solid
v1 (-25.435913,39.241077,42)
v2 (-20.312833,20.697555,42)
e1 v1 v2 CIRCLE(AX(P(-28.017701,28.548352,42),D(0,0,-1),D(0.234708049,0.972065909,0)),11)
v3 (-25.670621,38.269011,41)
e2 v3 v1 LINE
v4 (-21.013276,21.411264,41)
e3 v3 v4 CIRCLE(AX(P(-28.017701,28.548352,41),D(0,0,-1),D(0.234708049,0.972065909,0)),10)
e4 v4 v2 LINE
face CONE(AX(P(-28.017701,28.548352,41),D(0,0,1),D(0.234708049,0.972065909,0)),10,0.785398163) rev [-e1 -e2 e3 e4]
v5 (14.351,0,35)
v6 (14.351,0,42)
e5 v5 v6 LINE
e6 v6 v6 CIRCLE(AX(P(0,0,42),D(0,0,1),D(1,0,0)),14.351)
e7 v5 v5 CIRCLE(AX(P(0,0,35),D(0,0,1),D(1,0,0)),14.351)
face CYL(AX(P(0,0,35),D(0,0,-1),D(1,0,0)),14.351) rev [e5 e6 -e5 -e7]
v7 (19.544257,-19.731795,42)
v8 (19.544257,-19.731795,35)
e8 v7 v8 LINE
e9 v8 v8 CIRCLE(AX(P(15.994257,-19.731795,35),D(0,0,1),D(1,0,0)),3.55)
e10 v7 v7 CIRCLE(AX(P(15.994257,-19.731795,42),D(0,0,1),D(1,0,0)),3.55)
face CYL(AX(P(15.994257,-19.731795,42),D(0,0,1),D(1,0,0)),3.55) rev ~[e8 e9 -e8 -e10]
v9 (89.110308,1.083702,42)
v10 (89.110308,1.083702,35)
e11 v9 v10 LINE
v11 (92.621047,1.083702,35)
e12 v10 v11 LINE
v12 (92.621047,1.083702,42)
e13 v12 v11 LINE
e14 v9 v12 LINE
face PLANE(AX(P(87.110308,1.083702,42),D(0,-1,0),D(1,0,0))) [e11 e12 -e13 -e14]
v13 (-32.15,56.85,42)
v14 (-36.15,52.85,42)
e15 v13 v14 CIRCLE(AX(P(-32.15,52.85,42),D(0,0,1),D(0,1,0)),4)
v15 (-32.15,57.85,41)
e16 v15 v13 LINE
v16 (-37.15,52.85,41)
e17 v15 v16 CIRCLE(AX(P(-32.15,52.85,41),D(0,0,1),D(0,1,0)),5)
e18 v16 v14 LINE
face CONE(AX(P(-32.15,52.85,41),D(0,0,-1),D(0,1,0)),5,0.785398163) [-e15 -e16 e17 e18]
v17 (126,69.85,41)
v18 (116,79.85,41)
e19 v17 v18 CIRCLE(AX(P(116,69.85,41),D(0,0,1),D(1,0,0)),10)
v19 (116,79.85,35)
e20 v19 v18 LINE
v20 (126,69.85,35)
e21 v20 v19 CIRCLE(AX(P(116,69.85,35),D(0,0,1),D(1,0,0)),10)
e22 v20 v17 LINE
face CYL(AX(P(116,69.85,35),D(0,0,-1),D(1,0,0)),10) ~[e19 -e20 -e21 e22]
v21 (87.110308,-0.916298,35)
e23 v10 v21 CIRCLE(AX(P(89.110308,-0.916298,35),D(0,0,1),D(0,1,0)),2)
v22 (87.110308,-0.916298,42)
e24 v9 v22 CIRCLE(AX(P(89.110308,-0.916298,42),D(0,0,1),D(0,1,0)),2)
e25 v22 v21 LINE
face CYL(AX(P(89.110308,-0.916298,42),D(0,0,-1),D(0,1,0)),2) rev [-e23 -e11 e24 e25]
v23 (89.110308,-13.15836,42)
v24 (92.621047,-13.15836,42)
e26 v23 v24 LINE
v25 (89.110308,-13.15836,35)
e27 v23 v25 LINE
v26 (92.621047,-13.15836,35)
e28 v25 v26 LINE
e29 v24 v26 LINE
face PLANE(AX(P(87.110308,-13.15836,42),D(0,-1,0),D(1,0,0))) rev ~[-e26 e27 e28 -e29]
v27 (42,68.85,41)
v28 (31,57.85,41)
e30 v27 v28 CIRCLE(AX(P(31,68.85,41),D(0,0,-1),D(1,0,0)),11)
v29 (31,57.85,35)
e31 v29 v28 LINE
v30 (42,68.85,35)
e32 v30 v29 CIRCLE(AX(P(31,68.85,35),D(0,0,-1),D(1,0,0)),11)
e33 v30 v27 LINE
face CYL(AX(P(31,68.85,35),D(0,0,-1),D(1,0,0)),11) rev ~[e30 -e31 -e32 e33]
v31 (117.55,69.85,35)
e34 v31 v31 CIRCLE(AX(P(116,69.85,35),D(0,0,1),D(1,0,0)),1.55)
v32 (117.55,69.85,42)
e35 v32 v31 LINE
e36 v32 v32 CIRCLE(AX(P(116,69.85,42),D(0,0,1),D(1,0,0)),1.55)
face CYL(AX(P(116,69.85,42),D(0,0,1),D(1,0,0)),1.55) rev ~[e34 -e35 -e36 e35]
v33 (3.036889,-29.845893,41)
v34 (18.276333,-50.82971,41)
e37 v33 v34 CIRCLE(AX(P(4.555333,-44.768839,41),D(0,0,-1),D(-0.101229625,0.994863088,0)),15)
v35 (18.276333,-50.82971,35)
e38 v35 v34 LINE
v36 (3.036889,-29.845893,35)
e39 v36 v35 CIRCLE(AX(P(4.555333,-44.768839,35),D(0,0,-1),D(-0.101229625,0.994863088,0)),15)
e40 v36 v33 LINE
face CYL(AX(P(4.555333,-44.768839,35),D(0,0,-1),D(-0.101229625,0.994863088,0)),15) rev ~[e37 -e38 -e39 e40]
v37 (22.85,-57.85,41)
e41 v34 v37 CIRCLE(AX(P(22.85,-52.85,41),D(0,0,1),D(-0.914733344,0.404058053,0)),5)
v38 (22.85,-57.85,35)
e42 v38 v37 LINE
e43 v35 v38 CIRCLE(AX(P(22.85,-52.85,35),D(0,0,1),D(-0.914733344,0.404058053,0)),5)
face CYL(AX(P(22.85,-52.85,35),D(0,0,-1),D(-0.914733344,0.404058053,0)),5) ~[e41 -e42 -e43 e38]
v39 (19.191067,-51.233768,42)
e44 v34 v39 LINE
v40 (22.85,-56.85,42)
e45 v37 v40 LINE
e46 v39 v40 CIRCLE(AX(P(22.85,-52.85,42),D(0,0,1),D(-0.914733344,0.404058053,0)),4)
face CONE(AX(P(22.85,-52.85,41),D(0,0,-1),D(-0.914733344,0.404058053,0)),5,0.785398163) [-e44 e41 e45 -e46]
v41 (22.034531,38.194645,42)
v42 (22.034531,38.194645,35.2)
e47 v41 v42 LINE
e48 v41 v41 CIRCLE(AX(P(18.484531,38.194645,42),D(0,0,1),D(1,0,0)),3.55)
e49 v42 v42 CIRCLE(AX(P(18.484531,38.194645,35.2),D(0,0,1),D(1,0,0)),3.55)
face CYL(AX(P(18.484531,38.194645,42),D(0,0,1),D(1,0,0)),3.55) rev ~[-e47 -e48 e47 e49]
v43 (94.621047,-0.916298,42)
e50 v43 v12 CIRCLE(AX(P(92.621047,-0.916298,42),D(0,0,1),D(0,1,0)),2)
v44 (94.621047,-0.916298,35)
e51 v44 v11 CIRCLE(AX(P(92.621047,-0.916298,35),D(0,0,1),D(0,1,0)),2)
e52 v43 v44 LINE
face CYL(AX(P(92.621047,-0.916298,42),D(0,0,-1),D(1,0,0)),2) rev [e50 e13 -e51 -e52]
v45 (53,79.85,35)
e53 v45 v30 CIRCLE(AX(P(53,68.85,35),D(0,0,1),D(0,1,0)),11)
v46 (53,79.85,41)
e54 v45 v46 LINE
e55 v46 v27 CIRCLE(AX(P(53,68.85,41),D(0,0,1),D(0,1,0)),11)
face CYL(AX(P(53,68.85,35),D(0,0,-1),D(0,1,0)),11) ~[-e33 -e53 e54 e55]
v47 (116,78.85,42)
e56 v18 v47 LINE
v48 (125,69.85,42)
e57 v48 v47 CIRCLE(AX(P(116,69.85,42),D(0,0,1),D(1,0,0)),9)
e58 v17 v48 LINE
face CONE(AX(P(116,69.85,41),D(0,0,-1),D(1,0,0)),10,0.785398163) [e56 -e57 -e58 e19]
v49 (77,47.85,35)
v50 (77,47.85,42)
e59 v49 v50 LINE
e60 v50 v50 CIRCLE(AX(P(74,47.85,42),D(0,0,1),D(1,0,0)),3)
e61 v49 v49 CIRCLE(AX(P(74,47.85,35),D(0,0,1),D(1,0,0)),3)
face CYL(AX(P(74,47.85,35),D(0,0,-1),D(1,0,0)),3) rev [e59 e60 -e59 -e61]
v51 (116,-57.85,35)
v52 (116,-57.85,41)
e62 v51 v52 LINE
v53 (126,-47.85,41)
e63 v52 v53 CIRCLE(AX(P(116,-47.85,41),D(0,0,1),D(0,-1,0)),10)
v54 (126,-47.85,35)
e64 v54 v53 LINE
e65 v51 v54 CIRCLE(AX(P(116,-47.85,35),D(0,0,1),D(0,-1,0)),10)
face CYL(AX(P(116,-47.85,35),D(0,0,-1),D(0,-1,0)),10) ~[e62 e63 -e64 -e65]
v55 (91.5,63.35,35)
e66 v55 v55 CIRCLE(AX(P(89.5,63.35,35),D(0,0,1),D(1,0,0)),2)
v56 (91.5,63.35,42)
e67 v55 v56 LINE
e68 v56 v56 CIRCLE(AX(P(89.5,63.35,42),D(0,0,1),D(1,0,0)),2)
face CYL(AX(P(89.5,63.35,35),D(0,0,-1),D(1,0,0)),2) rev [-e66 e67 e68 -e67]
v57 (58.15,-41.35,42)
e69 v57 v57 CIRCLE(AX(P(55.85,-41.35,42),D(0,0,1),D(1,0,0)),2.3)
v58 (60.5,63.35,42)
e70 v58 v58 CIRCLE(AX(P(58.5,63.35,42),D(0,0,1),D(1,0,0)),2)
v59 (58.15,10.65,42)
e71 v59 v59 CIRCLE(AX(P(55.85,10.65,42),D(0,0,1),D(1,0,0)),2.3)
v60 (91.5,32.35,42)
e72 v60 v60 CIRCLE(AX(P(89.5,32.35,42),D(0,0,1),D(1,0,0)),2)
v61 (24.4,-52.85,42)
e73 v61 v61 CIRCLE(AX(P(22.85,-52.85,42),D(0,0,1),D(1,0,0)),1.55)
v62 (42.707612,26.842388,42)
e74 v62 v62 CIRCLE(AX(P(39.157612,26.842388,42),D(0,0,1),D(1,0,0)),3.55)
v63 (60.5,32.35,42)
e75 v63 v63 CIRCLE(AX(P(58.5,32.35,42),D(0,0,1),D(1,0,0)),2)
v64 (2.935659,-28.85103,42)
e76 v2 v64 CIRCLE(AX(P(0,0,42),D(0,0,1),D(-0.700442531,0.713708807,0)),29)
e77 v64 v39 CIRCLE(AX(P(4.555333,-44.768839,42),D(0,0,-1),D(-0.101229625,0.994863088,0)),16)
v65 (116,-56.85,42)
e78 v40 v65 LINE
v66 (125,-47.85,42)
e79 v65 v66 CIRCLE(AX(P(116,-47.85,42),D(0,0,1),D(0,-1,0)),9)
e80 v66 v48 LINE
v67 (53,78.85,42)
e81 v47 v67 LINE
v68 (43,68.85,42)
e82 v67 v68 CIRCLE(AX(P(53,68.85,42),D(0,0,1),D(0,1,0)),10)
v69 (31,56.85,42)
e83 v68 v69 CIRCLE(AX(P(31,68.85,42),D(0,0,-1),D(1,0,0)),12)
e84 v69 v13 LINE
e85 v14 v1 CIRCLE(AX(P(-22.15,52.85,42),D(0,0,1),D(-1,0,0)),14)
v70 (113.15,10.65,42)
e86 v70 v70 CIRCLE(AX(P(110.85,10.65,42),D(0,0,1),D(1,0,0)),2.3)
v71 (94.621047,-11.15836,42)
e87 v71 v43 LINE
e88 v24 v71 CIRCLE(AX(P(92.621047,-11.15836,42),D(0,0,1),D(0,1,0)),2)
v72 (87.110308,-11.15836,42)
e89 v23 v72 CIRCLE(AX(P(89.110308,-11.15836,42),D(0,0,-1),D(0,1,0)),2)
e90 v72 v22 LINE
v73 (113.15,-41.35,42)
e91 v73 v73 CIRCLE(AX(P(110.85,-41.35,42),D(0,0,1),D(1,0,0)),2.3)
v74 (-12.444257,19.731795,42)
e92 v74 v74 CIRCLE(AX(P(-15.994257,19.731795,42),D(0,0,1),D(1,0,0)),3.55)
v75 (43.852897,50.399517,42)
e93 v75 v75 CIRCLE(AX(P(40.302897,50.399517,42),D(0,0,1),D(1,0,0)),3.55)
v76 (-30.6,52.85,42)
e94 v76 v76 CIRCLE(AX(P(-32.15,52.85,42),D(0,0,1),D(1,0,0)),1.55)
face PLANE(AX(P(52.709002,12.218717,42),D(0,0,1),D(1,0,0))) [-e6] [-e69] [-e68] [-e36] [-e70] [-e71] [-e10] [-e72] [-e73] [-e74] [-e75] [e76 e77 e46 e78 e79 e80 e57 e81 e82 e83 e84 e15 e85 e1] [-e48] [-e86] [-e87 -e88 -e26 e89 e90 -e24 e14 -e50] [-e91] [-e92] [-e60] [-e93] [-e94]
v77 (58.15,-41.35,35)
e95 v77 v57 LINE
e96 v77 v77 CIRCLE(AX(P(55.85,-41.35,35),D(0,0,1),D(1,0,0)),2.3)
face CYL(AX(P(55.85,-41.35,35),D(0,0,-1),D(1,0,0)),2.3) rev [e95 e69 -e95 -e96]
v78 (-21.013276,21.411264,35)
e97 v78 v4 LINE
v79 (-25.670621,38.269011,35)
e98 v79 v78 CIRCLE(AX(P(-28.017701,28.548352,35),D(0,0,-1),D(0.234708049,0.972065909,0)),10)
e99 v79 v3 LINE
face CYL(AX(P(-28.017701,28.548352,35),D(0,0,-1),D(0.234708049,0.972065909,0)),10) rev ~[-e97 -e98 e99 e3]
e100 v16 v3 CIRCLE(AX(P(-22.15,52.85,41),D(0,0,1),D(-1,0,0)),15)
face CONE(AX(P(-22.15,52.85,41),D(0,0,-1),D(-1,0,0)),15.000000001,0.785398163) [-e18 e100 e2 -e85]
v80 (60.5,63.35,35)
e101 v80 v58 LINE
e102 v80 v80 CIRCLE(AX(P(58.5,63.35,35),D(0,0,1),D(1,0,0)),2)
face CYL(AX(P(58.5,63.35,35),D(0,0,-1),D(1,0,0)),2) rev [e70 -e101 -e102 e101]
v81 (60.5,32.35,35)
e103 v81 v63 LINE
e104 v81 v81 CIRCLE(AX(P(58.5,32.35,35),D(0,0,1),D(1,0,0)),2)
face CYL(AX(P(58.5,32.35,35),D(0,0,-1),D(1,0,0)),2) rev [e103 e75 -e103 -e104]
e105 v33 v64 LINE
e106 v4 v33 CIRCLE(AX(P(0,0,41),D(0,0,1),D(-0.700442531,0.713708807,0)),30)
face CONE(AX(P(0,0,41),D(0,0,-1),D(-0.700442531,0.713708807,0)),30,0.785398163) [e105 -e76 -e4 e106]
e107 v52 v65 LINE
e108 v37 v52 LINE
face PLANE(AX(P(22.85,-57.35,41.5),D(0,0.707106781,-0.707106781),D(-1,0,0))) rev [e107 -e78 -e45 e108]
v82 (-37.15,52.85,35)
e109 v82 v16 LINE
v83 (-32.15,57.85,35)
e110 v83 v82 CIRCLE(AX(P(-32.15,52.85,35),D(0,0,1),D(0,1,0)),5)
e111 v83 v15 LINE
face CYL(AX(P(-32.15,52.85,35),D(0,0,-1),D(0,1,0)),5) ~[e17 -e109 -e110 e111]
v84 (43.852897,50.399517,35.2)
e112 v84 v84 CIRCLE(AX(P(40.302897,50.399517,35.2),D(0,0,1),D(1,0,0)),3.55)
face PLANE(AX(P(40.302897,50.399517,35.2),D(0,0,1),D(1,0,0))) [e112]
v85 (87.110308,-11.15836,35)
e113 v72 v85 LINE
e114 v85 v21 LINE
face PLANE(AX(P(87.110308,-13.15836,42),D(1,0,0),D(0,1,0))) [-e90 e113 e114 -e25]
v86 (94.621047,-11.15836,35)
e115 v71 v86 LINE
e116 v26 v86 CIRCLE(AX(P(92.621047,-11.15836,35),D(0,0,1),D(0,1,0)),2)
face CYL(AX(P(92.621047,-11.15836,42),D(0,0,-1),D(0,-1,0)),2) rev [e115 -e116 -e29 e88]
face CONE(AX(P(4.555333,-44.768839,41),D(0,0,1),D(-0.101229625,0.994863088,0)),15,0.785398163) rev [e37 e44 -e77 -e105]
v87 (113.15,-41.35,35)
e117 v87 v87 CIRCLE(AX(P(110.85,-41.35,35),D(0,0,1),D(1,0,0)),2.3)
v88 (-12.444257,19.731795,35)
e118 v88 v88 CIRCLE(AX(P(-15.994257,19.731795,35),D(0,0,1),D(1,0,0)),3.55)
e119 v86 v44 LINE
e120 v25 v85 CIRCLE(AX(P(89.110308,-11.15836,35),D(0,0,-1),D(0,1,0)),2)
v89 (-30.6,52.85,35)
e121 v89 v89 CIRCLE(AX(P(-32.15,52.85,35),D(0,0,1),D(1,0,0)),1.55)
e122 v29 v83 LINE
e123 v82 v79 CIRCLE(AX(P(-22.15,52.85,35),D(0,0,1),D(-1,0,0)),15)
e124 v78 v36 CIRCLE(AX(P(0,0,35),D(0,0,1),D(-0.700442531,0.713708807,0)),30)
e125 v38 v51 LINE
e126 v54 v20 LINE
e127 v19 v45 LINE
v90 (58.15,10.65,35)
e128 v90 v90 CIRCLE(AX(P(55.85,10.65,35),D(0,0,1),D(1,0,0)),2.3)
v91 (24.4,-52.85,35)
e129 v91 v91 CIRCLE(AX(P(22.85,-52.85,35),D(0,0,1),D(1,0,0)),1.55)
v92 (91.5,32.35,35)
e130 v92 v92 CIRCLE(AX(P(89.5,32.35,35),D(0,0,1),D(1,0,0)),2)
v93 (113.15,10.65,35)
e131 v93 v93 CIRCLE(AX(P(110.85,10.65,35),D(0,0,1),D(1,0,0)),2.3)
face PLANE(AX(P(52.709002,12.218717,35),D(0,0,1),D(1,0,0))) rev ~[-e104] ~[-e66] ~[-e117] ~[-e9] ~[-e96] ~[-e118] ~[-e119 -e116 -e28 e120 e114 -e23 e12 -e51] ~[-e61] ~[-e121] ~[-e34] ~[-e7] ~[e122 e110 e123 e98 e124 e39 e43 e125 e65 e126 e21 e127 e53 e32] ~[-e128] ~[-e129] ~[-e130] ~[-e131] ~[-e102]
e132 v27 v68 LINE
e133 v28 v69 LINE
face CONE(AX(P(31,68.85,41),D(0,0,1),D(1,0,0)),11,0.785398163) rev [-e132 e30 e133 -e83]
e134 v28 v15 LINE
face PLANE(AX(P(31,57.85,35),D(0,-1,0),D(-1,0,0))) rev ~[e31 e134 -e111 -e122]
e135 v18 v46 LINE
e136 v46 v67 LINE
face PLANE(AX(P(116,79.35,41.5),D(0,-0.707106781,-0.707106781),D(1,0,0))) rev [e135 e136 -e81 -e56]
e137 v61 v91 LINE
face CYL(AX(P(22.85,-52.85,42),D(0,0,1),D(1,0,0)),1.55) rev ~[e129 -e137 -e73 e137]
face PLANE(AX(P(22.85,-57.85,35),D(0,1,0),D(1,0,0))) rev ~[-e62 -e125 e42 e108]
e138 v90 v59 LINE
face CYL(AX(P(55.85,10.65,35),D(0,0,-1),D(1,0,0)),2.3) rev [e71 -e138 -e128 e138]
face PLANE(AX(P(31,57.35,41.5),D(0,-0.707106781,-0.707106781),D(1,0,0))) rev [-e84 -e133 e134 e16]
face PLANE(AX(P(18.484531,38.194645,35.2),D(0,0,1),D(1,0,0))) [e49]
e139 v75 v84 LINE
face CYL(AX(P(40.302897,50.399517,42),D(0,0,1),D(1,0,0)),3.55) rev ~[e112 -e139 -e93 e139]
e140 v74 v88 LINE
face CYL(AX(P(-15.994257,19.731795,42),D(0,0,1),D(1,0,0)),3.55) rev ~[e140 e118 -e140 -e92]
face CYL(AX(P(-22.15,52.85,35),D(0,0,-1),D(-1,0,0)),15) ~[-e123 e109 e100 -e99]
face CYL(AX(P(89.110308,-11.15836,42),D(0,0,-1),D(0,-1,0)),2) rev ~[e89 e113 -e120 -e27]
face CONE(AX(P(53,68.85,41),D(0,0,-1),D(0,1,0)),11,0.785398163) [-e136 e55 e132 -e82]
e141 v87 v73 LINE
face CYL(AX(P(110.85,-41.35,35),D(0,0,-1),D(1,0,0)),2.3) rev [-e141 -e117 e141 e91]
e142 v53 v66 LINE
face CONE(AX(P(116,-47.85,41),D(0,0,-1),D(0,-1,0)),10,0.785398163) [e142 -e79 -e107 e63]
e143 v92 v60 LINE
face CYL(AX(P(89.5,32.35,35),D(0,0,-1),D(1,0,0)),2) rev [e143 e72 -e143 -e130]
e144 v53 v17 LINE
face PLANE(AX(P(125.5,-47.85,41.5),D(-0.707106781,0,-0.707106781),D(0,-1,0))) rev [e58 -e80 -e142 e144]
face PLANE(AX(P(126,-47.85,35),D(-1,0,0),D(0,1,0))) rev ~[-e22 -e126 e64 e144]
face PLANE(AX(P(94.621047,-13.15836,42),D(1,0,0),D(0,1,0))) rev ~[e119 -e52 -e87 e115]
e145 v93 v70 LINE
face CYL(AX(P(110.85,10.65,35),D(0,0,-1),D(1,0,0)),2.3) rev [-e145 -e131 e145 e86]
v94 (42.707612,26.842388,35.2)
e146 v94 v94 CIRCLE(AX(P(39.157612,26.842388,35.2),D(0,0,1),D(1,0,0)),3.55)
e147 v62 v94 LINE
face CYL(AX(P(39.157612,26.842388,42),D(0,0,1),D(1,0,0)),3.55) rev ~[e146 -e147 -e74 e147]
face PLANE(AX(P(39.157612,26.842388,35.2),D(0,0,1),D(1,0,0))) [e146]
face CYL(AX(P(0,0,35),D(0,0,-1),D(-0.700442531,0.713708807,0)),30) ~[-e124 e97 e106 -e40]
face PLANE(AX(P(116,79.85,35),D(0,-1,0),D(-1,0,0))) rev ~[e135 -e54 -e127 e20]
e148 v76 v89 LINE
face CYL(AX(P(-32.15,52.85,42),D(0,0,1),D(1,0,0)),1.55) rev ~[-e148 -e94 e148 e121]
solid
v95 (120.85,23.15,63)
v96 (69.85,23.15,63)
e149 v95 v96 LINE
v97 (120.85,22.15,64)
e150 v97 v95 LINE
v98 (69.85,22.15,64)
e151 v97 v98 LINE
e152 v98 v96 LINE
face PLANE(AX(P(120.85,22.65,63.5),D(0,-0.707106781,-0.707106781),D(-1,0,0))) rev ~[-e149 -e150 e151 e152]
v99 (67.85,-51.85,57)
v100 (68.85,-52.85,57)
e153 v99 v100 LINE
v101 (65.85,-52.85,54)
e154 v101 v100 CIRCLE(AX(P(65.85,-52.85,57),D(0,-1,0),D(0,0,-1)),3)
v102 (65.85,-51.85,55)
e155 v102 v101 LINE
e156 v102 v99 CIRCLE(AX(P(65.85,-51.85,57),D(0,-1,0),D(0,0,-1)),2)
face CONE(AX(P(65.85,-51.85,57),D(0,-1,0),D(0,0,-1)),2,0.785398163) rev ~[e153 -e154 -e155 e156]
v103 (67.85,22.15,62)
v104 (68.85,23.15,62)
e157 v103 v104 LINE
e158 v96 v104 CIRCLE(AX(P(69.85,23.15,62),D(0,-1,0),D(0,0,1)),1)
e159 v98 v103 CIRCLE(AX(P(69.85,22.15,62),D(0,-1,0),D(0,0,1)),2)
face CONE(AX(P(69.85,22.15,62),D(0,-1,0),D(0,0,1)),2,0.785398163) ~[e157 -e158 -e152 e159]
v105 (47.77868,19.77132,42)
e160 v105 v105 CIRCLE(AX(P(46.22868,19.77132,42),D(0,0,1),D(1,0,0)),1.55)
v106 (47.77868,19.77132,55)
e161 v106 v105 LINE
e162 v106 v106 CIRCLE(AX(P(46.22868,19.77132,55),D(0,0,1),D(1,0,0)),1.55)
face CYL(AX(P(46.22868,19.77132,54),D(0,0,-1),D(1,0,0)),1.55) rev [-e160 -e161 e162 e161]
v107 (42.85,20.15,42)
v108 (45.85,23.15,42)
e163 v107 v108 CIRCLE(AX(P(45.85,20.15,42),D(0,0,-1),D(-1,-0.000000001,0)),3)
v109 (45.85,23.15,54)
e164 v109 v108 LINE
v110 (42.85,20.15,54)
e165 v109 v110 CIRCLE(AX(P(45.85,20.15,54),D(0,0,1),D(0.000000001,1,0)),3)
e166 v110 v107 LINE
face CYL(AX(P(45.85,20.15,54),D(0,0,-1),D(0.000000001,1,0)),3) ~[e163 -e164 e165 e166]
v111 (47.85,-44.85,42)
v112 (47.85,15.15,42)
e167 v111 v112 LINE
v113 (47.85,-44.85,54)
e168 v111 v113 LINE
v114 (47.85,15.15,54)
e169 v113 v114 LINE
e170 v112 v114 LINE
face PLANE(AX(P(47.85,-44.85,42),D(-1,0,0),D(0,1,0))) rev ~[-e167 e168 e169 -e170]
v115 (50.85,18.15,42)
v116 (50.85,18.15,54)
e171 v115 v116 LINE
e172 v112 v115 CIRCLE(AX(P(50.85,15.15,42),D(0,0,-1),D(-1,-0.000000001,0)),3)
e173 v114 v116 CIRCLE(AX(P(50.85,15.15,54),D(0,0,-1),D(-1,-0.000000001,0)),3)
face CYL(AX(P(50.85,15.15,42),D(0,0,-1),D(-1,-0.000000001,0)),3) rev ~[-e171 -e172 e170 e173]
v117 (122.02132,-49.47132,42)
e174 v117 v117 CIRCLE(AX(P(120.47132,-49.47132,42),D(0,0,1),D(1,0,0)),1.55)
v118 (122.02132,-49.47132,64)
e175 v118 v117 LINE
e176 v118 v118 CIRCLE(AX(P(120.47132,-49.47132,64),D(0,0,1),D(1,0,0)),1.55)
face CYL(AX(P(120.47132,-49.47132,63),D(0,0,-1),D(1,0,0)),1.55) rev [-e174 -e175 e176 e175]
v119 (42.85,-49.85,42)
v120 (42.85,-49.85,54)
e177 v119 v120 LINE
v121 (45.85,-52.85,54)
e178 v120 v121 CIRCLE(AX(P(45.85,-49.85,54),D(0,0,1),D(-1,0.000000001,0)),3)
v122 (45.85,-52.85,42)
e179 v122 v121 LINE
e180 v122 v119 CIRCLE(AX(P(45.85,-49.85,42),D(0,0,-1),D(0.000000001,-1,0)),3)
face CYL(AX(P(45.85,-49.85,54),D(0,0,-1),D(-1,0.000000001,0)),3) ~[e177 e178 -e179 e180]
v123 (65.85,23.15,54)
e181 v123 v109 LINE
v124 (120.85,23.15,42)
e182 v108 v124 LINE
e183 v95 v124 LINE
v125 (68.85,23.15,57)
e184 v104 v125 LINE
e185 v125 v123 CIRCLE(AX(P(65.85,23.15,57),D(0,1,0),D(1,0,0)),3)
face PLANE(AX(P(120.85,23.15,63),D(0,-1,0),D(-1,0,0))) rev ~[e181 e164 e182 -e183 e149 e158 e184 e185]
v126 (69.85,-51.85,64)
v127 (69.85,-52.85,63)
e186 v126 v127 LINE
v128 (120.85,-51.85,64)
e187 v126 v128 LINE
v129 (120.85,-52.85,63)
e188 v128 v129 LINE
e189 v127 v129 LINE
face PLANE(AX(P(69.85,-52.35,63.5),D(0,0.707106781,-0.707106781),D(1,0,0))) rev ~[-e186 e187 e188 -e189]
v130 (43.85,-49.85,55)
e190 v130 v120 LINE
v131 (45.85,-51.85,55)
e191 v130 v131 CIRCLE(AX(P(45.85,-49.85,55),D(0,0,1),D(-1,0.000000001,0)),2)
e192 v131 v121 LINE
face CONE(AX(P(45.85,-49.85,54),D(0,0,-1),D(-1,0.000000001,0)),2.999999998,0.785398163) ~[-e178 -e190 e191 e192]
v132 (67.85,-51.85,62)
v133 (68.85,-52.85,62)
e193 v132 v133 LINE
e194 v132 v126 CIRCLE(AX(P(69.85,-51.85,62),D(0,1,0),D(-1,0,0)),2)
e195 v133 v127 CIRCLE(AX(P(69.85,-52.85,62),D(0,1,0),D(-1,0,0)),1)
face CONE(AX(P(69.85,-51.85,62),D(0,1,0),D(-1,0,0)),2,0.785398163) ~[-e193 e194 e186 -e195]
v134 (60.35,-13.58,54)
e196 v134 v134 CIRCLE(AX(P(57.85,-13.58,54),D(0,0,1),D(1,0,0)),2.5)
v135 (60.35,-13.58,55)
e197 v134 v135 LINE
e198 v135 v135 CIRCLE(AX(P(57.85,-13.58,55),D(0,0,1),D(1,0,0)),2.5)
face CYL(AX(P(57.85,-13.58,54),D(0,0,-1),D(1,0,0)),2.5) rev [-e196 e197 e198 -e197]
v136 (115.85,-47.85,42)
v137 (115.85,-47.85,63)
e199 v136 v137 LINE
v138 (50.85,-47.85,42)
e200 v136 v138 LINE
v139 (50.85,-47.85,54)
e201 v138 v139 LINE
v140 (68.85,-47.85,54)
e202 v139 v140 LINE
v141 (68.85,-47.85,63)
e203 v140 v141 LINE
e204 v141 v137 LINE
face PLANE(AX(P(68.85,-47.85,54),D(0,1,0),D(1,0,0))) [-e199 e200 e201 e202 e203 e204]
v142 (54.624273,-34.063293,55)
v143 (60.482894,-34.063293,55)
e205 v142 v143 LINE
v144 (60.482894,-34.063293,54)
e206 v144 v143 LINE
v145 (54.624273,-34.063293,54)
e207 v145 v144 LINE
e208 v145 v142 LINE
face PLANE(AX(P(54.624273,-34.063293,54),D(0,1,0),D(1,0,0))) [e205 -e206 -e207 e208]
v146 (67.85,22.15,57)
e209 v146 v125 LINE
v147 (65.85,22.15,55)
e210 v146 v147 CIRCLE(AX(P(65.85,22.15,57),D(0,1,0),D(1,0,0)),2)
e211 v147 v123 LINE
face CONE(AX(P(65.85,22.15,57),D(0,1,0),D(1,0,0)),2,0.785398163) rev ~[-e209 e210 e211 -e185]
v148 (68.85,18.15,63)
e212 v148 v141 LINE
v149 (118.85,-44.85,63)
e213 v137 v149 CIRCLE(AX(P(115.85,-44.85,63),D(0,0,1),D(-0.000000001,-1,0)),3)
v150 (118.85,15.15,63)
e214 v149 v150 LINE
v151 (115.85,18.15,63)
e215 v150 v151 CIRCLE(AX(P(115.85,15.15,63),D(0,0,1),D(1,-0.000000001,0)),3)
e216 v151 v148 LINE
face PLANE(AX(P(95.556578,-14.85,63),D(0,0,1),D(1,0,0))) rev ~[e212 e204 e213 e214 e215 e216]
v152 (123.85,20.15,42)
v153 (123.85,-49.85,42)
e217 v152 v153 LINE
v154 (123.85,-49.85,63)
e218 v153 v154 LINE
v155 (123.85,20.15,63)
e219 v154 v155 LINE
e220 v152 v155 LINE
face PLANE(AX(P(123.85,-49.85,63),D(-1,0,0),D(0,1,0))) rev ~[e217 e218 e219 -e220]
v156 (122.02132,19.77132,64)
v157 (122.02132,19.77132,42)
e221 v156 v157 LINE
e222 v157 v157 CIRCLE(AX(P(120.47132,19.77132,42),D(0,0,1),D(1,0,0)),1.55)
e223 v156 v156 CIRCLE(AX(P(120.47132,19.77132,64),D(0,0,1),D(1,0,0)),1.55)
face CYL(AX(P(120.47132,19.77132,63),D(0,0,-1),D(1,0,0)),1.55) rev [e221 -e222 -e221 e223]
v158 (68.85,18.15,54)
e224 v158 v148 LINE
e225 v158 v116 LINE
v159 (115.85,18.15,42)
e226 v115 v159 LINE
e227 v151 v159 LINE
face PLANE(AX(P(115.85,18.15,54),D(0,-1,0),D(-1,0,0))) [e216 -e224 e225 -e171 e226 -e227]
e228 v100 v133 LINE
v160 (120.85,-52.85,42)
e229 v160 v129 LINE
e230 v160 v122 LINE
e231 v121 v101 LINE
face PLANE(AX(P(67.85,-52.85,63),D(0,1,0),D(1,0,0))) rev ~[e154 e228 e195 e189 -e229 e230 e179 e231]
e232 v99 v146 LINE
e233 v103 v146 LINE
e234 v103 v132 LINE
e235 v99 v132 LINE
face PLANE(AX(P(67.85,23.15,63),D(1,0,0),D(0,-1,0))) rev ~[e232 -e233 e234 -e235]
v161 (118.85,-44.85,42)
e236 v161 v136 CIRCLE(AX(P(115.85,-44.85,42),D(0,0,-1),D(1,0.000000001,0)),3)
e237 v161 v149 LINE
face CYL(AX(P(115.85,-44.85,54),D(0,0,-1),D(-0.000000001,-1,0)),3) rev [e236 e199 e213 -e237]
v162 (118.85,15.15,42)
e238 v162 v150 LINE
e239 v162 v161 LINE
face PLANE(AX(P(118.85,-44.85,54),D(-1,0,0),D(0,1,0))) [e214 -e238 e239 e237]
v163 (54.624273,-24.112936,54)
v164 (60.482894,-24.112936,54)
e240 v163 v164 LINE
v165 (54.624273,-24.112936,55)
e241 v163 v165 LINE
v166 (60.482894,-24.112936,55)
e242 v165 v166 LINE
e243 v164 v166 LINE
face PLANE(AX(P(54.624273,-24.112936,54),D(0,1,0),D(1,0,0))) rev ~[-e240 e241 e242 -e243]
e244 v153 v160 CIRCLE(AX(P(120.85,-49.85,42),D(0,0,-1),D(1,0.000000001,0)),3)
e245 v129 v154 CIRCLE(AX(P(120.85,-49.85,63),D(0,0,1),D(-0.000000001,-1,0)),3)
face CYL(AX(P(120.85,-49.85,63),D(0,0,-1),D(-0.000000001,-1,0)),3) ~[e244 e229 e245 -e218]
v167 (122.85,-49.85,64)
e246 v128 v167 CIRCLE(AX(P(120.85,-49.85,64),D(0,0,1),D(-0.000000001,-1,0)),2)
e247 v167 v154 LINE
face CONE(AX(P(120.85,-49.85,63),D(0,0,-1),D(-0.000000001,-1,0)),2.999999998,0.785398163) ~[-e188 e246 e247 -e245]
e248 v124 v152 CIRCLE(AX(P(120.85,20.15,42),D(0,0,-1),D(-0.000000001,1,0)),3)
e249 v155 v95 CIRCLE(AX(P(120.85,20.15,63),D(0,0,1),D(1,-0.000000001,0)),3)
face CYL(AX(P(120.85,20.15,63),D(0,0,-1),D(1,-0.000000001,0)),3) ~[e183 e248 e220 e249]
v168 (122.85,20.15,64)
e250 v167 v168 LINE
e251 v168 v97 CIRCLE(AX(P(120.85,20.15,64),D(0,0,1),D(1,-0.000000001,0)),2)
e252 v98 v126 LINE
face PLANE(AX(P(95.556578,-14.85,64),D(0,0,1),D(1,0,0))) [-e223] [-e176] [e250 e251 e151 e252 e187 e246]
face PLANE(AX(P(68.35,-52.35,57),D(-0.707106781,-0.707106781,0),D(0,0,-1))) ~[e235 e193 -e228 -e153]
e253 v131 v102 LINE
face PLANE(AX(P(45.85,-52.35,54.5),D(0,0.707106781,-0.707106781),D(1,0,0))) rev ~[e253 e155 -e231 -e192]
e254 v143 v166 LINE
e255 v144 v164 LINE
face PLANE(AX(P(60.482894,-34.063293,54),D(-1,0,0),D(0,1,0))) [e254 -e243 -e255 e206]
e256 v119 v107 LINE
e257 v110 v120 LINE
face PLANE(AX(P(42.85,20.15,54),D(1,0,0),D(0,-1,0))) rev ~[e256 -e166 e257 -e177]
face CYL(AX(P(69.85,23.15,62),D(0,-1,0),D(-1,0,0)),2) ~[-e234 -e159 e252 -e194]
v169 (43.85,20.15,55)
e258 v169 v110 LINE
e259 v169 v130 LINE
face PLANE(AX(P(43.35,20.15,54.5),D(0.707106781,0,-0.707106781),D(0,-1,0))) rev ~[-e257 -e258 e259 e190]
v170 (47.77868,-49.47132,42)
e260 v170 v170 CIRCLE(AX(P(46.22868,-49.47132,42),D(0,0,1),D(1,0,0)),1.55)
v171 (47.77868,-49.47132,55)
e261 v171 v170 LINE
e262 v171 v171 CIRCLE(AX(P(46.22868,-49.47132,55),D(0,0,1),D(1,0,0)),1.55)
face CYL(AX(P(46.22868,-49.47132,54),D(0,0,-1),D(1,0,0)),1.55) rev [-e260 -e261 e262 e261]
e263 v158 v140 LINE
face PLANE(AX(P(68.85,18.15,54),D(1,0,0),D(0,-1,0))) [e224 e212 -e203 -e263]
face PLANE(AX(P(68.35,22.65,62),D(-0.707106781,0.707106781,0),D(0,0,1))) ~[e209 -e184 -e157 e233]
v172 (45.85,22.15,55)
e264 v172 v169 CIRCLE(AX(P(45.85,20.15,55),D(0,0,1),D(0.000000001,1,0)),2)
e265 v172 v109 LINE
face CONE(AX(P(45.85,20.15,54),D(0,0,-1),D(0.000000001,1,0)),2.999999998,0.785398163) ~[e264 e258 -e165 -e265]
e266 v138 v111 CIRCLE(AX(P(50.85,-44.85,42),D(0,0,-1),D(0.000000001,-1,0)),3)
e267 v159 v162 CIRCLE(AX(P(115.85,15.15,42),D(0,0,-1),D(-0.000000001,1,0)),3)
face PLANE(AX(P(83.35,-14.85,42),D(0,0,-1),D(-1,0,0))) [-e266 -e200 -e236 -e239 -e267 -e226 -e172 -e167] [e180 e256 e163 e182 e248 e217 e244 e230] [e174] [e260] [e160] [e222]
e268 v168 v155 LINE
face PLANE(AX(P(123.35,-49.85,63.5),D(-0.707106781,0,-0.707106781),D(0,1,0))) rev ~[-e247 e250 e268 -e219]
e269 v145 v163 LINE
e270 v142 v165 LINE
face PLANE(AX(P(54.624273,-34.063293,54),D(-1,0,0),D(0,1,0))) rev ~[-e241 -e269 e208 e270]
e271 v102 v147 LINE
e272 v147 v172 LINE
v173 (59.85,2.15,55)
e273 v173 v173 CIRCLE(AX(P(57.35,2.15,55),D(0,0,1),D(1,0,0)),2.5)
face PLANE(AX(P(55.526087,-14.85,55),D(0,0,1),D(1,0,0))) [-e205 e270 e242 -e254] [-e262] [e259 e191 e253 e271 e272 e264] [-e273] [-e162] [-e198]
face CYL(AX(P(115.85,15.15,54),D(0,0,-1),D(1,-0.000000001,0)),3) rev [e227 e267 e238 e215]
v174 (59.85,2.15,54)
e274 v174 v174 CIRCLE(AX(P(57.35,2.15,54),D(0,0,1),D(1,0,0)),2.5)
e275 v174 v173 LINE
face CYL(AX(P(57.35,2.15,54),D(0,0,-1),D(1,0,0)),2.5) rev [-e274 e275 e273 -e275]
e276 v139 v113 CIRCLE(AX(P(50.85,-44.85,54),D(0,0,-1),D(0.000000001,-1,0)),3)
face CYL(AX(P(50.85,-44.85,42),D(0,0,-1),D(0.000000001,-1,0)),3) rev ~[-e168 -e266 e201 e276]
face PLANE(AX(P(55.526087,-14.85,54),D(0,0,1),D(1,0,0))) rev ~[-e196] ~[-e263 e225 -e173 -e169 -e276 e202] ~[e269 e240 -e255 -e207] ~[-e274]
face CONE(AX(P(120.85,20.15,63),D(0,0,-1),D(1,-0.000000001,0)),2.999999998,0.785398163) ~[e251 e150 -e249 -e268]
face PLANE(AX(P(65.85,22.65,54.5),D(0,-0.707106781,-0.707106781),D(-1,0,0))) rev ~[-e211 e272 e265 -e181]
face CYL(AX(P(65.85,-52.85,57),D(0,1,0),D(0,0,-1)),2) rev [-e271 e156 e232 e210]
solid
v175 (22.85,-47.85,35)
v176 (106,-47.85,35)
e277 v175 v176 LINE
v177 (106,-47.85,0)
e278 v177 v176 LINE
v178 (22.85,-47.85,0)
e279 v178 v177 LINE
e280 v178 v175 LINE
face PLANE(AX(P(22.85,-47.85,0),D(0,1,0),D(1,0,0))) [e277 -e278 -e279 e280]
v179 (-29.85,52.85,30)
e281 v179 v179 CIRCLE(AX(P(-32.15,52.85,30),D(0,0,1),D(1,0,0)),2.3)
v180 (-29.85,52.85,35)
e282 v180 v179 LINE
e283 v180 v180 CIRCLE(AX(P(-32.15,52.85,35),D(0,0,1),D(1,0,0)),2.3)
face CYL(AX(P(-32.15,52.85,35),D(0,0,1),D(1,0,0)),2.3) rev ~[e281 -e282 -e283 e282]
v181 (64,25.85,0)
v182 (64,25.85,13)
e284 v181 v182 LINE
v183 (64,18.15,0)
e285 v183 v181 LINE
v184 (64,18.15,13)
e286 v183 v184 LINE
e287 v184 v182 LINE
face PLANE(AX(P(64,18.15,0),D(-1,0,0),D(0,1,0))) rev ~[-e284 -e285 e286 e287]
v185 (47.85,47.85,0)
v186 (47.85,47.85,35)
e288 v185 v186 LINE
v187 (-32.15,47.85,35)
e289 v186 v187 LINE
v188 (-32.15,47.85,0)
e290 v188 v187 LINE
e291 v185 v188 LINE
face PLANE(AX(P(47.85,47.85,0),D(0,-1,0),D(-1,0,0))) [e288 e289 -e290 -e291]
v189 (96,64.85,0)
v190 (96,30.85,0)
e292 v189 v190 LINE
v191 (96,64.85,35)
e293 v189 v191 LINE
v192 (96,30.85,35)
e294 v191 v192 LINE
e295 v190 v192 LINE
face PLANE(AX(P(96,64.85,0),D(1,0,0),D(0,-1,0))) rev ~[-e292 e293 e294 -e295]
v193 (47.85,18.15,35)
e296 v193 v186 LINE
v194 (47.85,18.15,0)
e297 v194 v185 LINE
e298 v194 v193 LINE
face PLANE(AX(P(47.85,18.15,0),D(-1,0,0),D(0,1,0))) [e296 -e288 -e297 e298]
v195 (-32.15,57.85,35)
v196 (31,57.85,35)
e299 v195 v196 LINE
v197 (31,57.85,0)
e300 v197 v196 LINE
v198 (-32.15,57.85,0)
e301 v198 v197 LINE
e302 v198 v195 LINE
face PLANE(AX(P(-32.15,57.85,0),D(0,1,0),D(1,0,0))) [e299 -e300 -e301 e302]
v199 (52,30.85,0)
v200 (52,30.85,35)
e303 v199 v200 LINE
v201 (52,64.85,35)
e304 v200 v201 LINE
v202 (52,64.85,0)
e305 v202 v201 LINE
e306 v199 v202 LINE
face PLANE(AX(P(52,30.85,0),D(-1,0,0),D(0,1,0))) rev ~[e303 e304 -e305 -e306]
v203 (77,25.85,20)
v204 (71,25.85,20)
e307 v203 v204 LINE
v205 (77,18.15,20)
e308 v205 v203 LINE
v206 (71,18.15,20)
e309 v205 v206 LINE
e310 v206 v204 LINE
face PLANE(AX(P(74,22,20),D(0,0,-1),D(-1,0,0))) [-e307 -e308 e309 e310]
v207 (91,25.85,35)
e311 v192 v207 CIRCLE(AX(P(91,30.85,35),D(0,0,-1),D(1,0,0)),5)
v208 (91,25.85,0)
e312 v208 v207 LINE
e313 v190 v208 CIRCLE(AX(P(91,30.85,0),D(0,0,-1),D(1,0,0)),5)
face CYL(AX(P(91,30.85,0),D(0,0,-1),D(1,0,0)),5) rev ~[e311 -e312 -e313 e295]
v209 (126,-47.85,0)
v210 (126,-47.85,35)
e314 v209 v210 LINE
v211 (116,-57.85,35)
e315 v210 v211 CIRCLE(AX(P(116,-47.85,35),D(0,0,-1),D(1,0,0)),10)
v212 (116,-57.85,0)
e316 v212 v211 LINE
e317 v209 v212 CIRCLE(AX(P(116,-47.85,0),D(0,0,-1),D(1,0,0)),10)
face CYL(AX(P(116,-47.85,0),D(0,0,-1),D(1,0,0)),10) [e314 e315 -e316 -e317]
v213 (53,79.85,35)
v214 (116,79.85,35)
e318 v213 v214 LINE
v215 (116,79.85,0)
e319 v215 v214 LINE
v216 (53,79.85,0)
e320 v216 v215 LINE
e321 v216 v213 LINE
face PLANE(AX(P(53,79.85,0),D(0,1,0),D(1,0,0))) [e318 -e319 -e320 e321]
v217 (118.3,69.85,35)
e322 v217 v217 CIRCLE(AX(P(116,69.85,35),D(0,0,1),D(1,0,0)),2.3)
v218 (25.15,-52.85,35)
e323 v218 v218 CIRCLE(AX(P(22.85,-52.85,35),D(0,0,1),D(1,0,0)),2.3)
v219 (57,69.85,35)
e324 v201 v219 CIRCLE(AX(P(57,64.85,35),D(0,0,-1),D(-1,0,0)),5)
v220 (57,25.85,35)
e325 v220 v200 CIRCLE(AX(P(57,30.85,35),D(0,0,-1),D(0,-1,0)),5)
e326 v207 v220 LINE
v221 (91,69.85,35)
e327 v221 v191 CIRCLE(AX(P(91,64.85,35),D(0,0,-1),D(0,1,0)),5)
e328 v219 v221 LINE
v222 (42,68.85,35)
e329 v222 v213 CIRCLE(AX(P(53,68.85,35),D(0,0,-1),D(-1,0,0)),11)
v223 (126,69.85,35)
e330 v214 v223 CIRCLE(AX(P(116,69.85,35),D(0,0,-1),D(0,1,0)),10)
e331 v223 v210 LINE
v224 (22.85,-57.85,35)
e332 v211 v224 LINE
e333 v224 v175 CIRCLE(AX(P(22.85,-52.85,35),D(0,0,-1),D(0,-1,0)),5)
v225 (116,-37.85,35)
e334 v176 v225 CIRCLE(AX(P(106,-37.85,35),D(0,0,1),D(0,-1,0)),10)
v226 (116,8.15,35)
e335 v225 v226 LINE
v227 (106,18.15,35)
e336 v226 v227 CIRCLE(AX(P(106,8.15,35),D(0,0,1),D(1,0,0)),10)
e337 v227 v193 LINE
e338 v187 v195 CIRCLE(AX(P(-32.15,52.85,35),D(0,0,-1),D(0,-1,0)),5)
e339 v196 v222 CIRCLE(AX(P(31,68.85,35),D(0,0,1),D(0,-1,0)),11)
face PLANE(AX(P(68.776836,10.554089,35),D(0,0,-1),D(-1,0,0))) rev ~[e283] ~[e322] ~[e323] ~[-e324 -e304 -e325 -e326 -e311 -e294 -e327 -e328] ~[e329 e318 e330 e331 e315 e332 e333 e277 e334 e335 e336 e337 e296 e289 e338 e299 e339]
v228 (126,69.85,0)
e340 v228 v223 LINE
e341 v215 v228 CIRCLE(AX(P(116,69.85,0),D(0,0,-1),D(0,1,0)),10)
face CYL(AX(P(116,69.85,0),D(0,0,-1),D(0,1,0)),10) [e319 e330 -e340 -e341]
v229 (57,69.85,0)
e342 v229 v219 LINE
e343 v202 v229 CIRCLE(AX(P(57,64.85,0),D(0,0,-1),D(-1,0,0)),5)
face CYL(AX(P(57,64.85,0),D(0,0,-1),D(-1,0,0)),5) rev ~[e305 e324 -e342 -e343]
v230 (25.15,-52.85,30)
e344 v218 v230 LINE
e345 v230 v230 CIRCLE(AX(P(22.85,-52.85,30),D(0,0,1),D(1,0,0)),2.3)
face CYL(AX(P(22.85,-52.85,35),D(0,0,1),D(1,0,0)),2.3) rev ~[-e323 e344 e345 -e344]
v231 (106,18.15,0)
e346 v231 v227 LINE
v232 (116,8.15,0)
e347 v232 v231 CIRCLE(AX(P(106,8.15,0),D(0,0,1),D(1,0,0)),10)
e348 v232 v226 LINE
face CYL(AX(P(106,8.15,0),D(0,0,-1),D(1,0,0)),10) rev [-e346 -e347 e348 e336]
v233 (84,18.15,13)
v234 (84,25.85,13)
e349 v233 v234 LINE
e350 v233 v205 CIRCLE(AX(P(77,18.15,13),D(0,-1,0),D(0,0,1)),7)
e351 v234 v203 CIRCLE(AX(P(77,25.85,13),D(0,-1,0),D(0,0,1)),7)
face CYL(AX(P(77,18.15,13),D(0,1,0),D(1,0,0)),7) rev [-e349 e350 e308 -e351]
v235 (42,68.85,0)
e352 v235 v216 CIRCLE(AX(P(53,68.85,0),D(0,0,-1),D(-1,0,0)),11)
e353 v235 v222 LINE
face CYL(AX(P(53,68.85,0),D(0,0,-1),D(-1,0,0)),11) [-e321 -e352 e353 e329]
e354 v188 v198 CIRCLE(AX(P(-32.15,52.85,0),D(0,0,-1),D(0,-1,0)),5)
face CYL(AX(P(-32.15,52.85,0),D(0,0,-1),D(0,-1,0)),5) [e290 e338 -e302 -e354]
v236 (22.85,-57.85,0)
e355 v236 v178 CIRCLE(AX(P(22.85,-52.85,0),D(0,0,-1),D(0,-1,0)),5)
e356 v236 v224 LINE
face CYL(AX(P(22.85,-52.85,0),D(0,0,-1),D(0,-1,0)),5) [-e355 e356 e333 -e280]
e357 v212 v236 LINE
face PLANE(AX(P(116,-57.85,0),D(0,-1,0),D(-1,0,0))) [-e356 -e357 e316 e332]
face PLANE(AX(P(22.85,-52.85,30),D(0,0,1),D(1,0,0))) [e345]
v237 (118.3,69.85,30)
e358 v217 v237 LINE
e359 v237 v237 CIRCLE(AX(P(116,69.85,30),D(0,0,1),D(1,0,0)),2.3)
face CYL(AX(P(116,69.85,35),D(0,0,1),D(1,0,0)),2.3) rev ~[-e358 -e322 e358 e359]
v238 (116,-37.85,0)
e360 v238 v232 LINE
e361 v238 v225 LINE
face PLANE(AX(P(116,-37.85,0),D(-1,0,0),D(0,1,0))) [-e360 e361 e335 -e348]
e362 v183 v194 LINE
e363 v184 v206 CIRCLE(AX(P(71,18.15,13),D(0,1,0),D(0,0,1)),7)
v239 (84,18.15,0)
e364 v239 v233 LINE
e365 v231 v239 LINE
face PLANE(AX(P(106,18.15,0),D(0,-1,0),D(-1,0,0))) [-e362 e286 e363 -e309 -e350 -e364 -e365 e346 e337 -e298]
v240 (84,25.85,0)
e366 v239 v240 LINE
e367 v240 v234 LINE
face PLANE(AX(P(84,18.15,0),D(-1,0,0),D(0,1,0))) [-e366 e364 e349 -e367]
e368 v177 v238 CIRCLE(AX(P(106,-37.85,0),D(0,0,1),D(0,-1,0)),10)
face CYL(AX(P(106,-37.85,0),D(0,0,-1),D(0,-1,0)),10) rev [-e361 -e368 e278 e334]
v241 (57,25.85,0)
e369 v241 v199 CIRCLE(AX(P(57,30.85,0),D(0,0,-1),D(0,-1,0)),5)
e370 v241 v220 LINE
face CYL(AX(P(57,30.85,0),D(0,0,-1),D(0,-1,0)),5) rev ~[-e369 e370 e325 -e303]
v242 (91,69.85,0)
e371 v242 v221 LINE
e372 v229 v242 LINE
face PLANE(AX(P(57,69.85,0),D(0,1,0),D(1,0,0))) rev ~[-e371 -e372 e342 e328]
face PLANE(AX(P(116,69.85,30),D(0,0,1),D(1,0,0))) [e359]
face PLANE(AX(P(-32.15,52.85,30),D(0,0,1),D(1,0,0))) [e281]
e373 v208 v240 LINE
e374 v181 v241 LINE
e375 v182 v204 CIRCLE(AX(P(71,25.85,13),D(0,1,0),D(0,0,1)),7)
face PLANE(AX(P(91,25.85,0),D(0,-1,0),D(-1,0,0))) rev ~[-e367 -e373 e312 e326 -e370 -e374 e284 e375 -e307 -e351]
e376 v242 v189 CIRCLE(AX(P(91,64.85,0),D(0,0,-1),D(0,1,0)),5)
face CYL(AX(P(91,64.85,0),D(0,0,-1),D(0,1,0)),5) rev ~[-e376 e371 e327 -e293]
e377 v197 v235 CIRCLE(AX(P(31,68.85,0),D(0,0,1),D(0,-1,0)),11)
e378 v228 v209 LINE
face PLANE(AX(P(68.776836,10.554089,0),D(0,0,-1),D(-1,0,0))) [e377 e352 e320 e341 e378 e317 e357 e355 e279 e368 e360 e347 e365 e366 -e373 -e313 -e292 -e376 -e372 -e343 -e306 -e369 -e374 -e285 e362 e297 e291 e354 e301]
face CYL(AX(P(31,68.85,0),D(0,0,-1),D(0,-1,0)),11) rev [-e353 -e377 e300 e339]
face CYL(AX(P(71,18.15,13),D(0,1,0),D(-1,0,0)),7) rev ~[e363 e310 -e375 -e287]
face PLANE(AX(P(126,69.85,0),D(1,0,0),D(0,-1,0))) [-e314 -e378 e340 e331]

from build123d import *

# Parameters (mm, degrees)
BOSS_EXTRUDE1_DEPTH = 35
SKETCH3_R           = 2
SKETCH3_R_2         = 2.3
SKETCH3_R_3         = 14.351
SKETCH3_R_4         = 3
BOSS_EXTRUDE2_DEPTH = 7
SKETCH4_R           = 2.3
CUT_EXTRUDE1_DEPTH  = 5
SKETCH5_R           = 1.55
CUT_EXTRUDE2_DEPTH  = 7
SKETCH6_W           = 20
SKETCH6_H           = 7.7
CUT_EXTRUDE3_DEPTH  = 20
FILLET1_R           = 7
SKETCH7_W           = 7.51073917
SKETCH7_H           = 14.242062011
CUT_EXTRUDE4_DEPTH  = 155.971037617
FILLET2_R           = 2
SKETCH8_R           = 3.55
CUT_EXTRUDE5_DEPTH  = 7
SKETCH9_R           = 1.55
BOSS_EXTRUDE3_DEPTH = 12
SKETCH10_R          = 1.55
SKETCH10_R_2        = 2.5
SKETCH10_W          = 5.858621547
SKETCH10_H          = 9.950357232
BOSS_EXTRUDE4_DEPTH = 1
SKETCH11_R          = 1.55
BOSS_EXTRUDE5_DEPTH = 9
SKETCH12_R          = 1.55
BOSS_EXTRUDE6_DEPTH = 1
FILLET3_R           = 2
FILLET4_R           = 2
SKETCH13_R          = 3.55
CUT_EXTRUDE6_DEPTH  = 6.8
CHAMFER1_SIZE       = 1
CHAMFER2_SIZE       = 1


with BuildPart() as part:
    # Sketch1 → Boss-Extrude1 (new body)
    with BuildSketch(Plane.XY):
        with BuildLine():
            Line((-32.15, 57.85), (31, 57.85))
            ThreePointArc((31, 57.85), (38.778174593, 61.071825407), (42, 68.85))
            ThreePointArc((42, 68.85), (45.221825407, 76.628174593), (53, 79.85))
            Line((53, 79.85), (116, 79.85))
            ThreePointArc((116, 79.85), (123.071067812, 76.921067812), (126, 69.85))
            Line((126, 69.85), (126, -47.85))
            ThreePointArc((126, -47.85), (123.071067812, -54.921067812), (116, -57.85))
            Line((116, -57.85), (22.85, -57.85))
            ThreePointArc((22.85, -57.85), (17.85, -52.85), (22.85, -47.85))
            Line((22.85, -47.85), (106, -47.85))
            ThreePointArc((106, -47.85), (113.071067812, -44.921067812), (116, -37.85))
            Line((116, -37.85), (116, 8.15))
            ThreePointArc((116, 8.15), (113.071067812, 15.221067812), (106, 18.15))
            Line((106, 18.15), (47.85, 18.15))
            Line((47.85, 18.15), (47.85, 47.85))
            Line((47.85, 47.85), (-32.15, 47.85))
            ThreePointArc((-32.15, 47.85), (-37.15, 52.85), (-32.15, 57.85))
        make_face()
        with BuildLine():
            Line((91, 25.85), (57, 25.85))
            ThreePointArc((57, 25.85), (53.464466094, 27.314466094), (52, 30.85))
            Line((52, 30.85), (52, 64.85))
            ThreePointArc((52, 64.85), (53.464466094, 68.385533906), (57, 69.85))
            Line((57, 69.85), (91, 69.85))
            ThreePointArc((91, 69.85), (94.535533906, 68.385533906), (96, 64.85))
            Line((96, 64.85), (96, 30.85))
            ThreePointArc((96, 30.85), (94.535533906, 27.314466094), (91, 25.85))
        make_face(mode=Mode.SUBTRACT)
    extrude(amount=BOSS_EXTRUDE1_DEPTH)

    # Sketch4 → Cut-Extrude1 (cut)
    with BuildSketch(Plane.XY.offset(35)):
        with Locations((-32.15, 52.85)):
            Circle(SKETCH4_R)
        with Locations((22.85, -52.85)):
            Circle(SKETCH4_R)
        with Locations((116, 69.85)):
            Circle(SKETCH4_R)
    extrude(amount=-CUT_EXTRUDE1_DEPTH, mode=Mode.SUBTRACT)

    # Sketch6 → Cut-Extrude3 (cut)
    with BuildSketch(Plane(origin=(0, 0, 0), x_dir=(-1, 0, 0), z_dir=(0, 0, -1))):
        with Locations((-74, 22)):
            Rectangle(SKETCH6_W, SKETCH6_H)
    extrude(amount=-CUT_EXTRUDE3_DEPTH, mode=Mode.SUBTRACT)

    # Fillet1
    fillet1_edges = [part.edges().sort_by_distance(p)[0] for p in [
        (84, 22, 20),
        (64, 22, 20),
    ]]
    fillet(fillet1_edges, radius=FILLET1_R)


with BuildPart() as body_2:
    # Sketch3 → Boss-Extrude2 (new body)
    with BuildSketch(Plane.XY.offset(35)):
        with BuildLine():
            Line((22.85, -57.85), (116, -57.85))
            ThreePointArc((116, -57.85), (123.071067812, -54.921067812), (126, -47.85))
            Line((126, -47.85), (126, 69.85))
            ThreePointArc((126, 69.85), (123.071067812, 76.921067812), (116, 79.85))
            Line((116, 79.85), (53, 79.85))
            ThreePointArc((53, 79.85), (45.221825407, 76.628174593), (42, 68.85))
            ThreePointArc((42, 68.85), (38.778174593, 61.071825407), (31, 57.85))
            Line((31, 57.85), (-32.15, 57.85))
            ThreePointArc((-32.15, 57.85), (-35.685533906, 56.385533906), (-37.15, 52.85))
            ThreePointArc((-37.15, 52.85), (-33.935781924, 43.571242301), (-25.670620741, 38.269011364))
            ThreePointArc((-25.670620741, 38.269011364), (-18.378791804, 31.211325234), (-21.013275926, 21.411264205))
            ThreePointArc((-21.013275926, 21.411264205), (-27.159006896, -12.743168539), (3.036888752, -29.845892627))
            ThreePointArc((3.036888752, -29.845892627), (16.692290613, -35.954404017), (18.276333282, -50.829709735))
            ThreePointArc((18.276333282, -50.829709735), (18.660641378, -55.579335879), (22.85, -57.85))
        make_face()
        with Locations((58.5, 63.35)):
            Circle(SKETCH3_R, mode=Mode.SUBTRACT)
        with Locations((89.5, 63.35)):
            Circle(SKETCH3_R, mode=Mode.SUBTRACT)
        with Locations((89.5, 32.35)):
            Circle(SKETCH3_R, mode=Mode.SUBTRACT)
        with Locations((58.5, 32.35)):
            Circle(SKETCH3_R, mode=Mode.SUBTRACT)
        with Locations((55.85, 10.65)):
            Circle(SKETCH3_R_2, mode=Mode.SUBTRACT)
        with Locations((110.85, 10.65)):
            Circle(SKETCH3_R_2, mode=Mode.SUBTRACT)
        with Locations((55.85, -41.35)):
            Circle(SKETCH3_R_2, mode=Mode.SUBTRACT)
        with Locations((110.85, -41.35)):
            Circle(SKETCH3_R_2, mode=Mode.SUBTRACT)
        Circle(SKETCH3_R_3, mode=Mode.SUBTRACT)
        with Locations((74, 47.85)):
            Circle(SKETCH3_R_4, mode=Mode.SUBTRACT)
    extrude(amount=BOSS_EXTRUDE2_DEPTH)

    # Sketch5 → Cut-Extrude2 (cut)
    with BuildSketch(Plane.XY.offset(42)):
        with Locations((-32.15, 52.85)):
            Circle(SKETCH5_R)
        with Locations((116, 69.85)):
            Circle(SKETCH5_R)
        with Locations((22.85, -52.85)):
            Circle(SKETCH5_R)
    extrude(amount=-CUT_EXTRUDE2_DEPTH, mode=Mode.SUBTRACT)

    # Sketch7 → Cut-Extrude4 (cut, through all)
    with BuildSketch(Plane.XY.offset(42)):
        with Locations((90.865677433, -6.037329258)):
            Rectangle(SKETCH7_W, SKETCH7_H)
    extrude(amount=-CUT_EXTRUDE4_DEPTH, mode=Mode.SUBTRACT)

    # Fillet2
    fillet2_edges = [body_2.edges().sort_by_distance(p)[0] for p in [
        (87.110307848, -13.158360263, 38.5),
        (87.110307848, 1.083701748, 38.5),
        (94.621047018, 1.083701748, 38.5),
        (94.621047018, -13.158360263, 38.5),
    ]]
    fillet(fillet2_edges, radius=FILLET2_R)

    # Sketch8 → Cut-Extrude5 (cut)
    with BuildSketch(Plane.XY.offset(42)):
        with Locations((-15.994256815, 19.73179538)):
            Circle(SKETCH8_R)
        with Locations((15.994256815, -19.73179538)):
            Circle(SKETCH8_R)
    extrude(amount=-CUT_EXTRUDE5_DEPTH, mode=Mode.SUBTRACT)

    # Sketch13 → Cut-Extrude6 (cut)
    with BuildSketch(Plane.XY.offset(42)):
        with Locations((39.157611845, 26.842388155)):
            Circle(SKETCH13_R)
        with Locations((40.302896948, 50.399517056)):
            Circle(SKETCH13_R)
        with Locations((18.484531024, 38.194644733)):
            Circle(SKETCH13_R)
    extrude(amount=-CUT_EXTRUDE6_DEPTH, mode=Mode.SUBTRACT)

    # Chamfer2
    chamfer2_edges = [body_2.edges().sort_by_distance(p)[0] for p in [
        (69.425, -57.85, 42),
        (123.071067812, -54.921067812, 42),
        (126, 11, 42),
        (123.071067812, 76.921067812, 42),
        (84.5, 79.85, 42),
        (45.221825407, 76.628174593, 42),
        (38.778174593, 61.071825407, 42),
        (-0.575, 57.85, 42),
        (-35.685533906, 56.385533906, 42),
        (-33.935781924, 43.571242301, 42),
        (16.692290613, -35.954404017, 42),
        (-18.378791804, 31.211325234, 42),
        (-27.159006896, -12.743168539, 42),
        (18.660641378, -55.579335879, 42),
    ]]
    chamfer(chamfer2_edges, length=CHAMFER2_SIZE)


with BuildPart() as body_3:
    # Sketch9 → Boss-Extrude3 (new body)
    with BuildSketch(Plane.XY.offset(42)):
        with BuildLine():
            Line((45.85, 23.15), (120.85, 23.15))
            ThreePointArc((120.85, 23.15), (122.971320344, 22.271320344), (123.85, 20.15))
            Line((123.85, 20.15), (123.85, -49.85))
            ThreePointArc((123.85, -49.85), (122.971320344, -51.971320344), (120.85, -52.85))
            Line((120.85, -52.85), (45.85, -52.85))
            ThreePointArc((45.85, -52.85), (43.728679656, -51.971320344), (42.85, -49.85))
            Line((42.85, -49.85), (42.85, 20.15))
            ThreePointArc((42.85, 20.15), (43.728679656, 22.271320344), (45.85, 23.15))
        make_face()
        with Locations((46.228679656, 19.771320344)):
            Circle(SKETCH9_R, mode=Mode.SUBTRACT)
        with Locations((120.471320344, 19.771320344)):
            Circle(SKETCH9_R, mode=Mode.SUBTRACT)
        with Locations((120.471320344, -49.471320344)):
            Circle(SKETCH9_R, mode=Mode.SUBTRACT)
        with Locations((46.228679656, -49.471320344)):
            Circle(SKETCH9_R, mode=Mode.SUBTRACT)
        with BuildLine():
            Line((50.85, 18.15), (115.85, 18.15))
            ThreePointArc((115.85, 18.15), (117.971320344, 17.271320344), (118.85, 15.15))
            Line((118.85, 15.15), (118.85, -44.85))
            ThreePointArc((118.85, -44.85), (117.971320344, -46.971320344), (115.85, -47.85))
            Line((115.85, -47.85), (50.85, -47.85))
            ThreePointArc((50.85, -47.85), (48.728679656, -46.971320344), (47.85, -44.85))
            Line((47.85, -44.85), (47.85, 15.15))
            ThreePointArc((47.85, 15.15), (48.728679656, 17.271320344), (50.85, 18.15))
        make_face(mode=Mode.SUBTRACT)
    extrude(amount=BOSS_EXTRUDE3_DEPTH)

    # Sketch10 → Boss-Extrude4 (add)
    with BuildSketch(Plane.XY.offset(54)):
        with BuildLine():
            Line((42.85, 20.15), (42.85, -49.85))
            ThreePointArc((42.85, -49.85), (43.728679656, -51.971320344), (45.85, -52.85))
            Line((45.85, -52.85), (67.85, -52.85))
            Line((67.85, -52.85), (67.85, 23.15))
            Line((67.85, 23.15), (45.85, 23.15))
            ThreePointArc((45.85, 23.15), (43.728679656, 22.271320344), (42.85, 20.15))
        make_face()
        with Locations((46.228679656, 19.771320344)):
            Circle(SKETCH10_R, mode=Mode.SUBTRACT)
        with Locations((46.228679656, -49.471320344)):
            Circle(SKETCH10_R, mode=Mode.SUBTRACT)
        with Locations((57.35, 2.15)):
            Circle(SKETCH10_R_2, mode=Mode.SUBTRACT)
        with Locations((57.85, -13.58)):
            Circle(SKETCH10_R_2, mode=Mode.SUBTRACT)
        with Locations((57.553583507, -29.088114563)):
            Rectangle(SKETCH10_W, SKETCH10_H, mode=Mode.SUBTRACT)
    extrude(amount=BOSS_EXTRUDE4_DEPTH)

    # Sketch11 → Boss-Extrude5 (add)
    with BuildSketch(Plane.XY.offset(54)):
        with BuildLine():
            Line((67.85, -52.85), (67.85, 23.15))
            Line((67.85, 23.15), (120.85, 23.15))
            ThreePointArc((120.85, 23.15), (122.971320344, 22.271320344), (123.85, 20.15))
            Line((123.85, 20.15), (123.85, -49.85))
            ThreePointArc((123.85, -49.85), (122.971320344, -51.971320344), (120.85, -52.85))
            Line((120.85, -52.85), (67.85, -52.85))
        make_face()
        with Locations((120.471320344, 19.771320344)):
            Circle(SKETCH11_R, mode=Mode.SUBTRACT)
        with Locations((120.471320344, -49.471320344)):
            Circle(SKETCH11_R, mode=Mode.SUBTRACT)
        with BuildLine():
            Line((115.85, 18.15), (68.85, 18.15))
            Line((68.85, 18.15), (68.85, -47.85))
            Line((68.85, -47.85), (115.85, -47.85))
            ThreePointArc((115.85, -47.85), (117.971320344, -46.971320344), (118.85, -44.85))
            Line((118.85, -44.85), (118.85, 15.15))
            ThreePointArc((118.85, 15.15), (117.971320344, 17.271320344), (115.85, 18.15))
        make_face(mode=Mode.SUBTRACT)
    extrude(amount=BOSS_EXTRUDE5_DEPTH)

    # Sketch12 → Boss-Extrude6 (add)
    with BuildSketch(Plane.XY.offset(63)):
        with BuildLine():
            Line((67.85, -52.85), (120.85, -52.85))
            ThreePointArc((120.85, -52.85), (122.971320344, -51.971320344), (123.85, -49.85))
            Line((123.85, -49.85), (123.85, 20.15))
            ThreePointArc((123.85, 20.15), (122.971320344, 22.271320344), (120.85, 23.15))
            Line((120.85, 23.15), (67.85, 23.15))
            Line((67.85, 23.15), (67.85, -52.85))
        make_face()
        with Locations((120.471320344, 19.771320344)):
            Circle(SKETCH12_R, mode=Mode.SUBTRACT)
        with Locations((120.471320344, -49.471320344)):
            Circle(SKETCH12_R, mode=Mode.SUBTRACT)
    extrude(amount=BOSS_EXTRUDE6_DEPTH)

    # Fillet3
    fillet3_edges = [body_3.edges().sort_by_distance(p)[0] for p in [
        (67.85, -14.85, 55),
    ]]
    fillet(fillet3_edges, radius=FILLET3_R)

    # Fillet4
    fillet4_edges = [body_3.edges().sort_by_distance(p)[0] for p in [
        (67.85, -14.85, 64),
    ]]
    fillet(fillet4_edges, radius=FILLET4_R)

    # Chamfer1
    chamfer1_edges = [body_3.edges().sort_by_distance(p)[0] for p in [
        (122.971320344, -51.971320344, 64),
        (123.85, -14.85, 64),
        (122.971320344, 22.271320344, 64),
        (95.35, 23.15, 64),
        (55.85, 23.15, 55),
        (67.264213562, 23.15, 55.585786438),
        (67.264213562, -52.85, 55.585786438),
        (95.35, -52.85, 64),
        (67.85, -52.85, 59.5),
        (68.435786438, -52.85, 63.414213562),
        (67.85, 23.15, 59.5),
        (68.435786438, 23.15, 63.414213562),
        (43.728679656, 22.271320344, 55),
        (42.85, -14.85, 55),
        (43.728679656, -51.971320344, 55),
        (55.85, -52.85, 55),
    ]]
    chamfer(chamfer1_edges, length=CHAMFER1_SIZE)


solid = Compound([part.part, body_2.part, body_3.part])
